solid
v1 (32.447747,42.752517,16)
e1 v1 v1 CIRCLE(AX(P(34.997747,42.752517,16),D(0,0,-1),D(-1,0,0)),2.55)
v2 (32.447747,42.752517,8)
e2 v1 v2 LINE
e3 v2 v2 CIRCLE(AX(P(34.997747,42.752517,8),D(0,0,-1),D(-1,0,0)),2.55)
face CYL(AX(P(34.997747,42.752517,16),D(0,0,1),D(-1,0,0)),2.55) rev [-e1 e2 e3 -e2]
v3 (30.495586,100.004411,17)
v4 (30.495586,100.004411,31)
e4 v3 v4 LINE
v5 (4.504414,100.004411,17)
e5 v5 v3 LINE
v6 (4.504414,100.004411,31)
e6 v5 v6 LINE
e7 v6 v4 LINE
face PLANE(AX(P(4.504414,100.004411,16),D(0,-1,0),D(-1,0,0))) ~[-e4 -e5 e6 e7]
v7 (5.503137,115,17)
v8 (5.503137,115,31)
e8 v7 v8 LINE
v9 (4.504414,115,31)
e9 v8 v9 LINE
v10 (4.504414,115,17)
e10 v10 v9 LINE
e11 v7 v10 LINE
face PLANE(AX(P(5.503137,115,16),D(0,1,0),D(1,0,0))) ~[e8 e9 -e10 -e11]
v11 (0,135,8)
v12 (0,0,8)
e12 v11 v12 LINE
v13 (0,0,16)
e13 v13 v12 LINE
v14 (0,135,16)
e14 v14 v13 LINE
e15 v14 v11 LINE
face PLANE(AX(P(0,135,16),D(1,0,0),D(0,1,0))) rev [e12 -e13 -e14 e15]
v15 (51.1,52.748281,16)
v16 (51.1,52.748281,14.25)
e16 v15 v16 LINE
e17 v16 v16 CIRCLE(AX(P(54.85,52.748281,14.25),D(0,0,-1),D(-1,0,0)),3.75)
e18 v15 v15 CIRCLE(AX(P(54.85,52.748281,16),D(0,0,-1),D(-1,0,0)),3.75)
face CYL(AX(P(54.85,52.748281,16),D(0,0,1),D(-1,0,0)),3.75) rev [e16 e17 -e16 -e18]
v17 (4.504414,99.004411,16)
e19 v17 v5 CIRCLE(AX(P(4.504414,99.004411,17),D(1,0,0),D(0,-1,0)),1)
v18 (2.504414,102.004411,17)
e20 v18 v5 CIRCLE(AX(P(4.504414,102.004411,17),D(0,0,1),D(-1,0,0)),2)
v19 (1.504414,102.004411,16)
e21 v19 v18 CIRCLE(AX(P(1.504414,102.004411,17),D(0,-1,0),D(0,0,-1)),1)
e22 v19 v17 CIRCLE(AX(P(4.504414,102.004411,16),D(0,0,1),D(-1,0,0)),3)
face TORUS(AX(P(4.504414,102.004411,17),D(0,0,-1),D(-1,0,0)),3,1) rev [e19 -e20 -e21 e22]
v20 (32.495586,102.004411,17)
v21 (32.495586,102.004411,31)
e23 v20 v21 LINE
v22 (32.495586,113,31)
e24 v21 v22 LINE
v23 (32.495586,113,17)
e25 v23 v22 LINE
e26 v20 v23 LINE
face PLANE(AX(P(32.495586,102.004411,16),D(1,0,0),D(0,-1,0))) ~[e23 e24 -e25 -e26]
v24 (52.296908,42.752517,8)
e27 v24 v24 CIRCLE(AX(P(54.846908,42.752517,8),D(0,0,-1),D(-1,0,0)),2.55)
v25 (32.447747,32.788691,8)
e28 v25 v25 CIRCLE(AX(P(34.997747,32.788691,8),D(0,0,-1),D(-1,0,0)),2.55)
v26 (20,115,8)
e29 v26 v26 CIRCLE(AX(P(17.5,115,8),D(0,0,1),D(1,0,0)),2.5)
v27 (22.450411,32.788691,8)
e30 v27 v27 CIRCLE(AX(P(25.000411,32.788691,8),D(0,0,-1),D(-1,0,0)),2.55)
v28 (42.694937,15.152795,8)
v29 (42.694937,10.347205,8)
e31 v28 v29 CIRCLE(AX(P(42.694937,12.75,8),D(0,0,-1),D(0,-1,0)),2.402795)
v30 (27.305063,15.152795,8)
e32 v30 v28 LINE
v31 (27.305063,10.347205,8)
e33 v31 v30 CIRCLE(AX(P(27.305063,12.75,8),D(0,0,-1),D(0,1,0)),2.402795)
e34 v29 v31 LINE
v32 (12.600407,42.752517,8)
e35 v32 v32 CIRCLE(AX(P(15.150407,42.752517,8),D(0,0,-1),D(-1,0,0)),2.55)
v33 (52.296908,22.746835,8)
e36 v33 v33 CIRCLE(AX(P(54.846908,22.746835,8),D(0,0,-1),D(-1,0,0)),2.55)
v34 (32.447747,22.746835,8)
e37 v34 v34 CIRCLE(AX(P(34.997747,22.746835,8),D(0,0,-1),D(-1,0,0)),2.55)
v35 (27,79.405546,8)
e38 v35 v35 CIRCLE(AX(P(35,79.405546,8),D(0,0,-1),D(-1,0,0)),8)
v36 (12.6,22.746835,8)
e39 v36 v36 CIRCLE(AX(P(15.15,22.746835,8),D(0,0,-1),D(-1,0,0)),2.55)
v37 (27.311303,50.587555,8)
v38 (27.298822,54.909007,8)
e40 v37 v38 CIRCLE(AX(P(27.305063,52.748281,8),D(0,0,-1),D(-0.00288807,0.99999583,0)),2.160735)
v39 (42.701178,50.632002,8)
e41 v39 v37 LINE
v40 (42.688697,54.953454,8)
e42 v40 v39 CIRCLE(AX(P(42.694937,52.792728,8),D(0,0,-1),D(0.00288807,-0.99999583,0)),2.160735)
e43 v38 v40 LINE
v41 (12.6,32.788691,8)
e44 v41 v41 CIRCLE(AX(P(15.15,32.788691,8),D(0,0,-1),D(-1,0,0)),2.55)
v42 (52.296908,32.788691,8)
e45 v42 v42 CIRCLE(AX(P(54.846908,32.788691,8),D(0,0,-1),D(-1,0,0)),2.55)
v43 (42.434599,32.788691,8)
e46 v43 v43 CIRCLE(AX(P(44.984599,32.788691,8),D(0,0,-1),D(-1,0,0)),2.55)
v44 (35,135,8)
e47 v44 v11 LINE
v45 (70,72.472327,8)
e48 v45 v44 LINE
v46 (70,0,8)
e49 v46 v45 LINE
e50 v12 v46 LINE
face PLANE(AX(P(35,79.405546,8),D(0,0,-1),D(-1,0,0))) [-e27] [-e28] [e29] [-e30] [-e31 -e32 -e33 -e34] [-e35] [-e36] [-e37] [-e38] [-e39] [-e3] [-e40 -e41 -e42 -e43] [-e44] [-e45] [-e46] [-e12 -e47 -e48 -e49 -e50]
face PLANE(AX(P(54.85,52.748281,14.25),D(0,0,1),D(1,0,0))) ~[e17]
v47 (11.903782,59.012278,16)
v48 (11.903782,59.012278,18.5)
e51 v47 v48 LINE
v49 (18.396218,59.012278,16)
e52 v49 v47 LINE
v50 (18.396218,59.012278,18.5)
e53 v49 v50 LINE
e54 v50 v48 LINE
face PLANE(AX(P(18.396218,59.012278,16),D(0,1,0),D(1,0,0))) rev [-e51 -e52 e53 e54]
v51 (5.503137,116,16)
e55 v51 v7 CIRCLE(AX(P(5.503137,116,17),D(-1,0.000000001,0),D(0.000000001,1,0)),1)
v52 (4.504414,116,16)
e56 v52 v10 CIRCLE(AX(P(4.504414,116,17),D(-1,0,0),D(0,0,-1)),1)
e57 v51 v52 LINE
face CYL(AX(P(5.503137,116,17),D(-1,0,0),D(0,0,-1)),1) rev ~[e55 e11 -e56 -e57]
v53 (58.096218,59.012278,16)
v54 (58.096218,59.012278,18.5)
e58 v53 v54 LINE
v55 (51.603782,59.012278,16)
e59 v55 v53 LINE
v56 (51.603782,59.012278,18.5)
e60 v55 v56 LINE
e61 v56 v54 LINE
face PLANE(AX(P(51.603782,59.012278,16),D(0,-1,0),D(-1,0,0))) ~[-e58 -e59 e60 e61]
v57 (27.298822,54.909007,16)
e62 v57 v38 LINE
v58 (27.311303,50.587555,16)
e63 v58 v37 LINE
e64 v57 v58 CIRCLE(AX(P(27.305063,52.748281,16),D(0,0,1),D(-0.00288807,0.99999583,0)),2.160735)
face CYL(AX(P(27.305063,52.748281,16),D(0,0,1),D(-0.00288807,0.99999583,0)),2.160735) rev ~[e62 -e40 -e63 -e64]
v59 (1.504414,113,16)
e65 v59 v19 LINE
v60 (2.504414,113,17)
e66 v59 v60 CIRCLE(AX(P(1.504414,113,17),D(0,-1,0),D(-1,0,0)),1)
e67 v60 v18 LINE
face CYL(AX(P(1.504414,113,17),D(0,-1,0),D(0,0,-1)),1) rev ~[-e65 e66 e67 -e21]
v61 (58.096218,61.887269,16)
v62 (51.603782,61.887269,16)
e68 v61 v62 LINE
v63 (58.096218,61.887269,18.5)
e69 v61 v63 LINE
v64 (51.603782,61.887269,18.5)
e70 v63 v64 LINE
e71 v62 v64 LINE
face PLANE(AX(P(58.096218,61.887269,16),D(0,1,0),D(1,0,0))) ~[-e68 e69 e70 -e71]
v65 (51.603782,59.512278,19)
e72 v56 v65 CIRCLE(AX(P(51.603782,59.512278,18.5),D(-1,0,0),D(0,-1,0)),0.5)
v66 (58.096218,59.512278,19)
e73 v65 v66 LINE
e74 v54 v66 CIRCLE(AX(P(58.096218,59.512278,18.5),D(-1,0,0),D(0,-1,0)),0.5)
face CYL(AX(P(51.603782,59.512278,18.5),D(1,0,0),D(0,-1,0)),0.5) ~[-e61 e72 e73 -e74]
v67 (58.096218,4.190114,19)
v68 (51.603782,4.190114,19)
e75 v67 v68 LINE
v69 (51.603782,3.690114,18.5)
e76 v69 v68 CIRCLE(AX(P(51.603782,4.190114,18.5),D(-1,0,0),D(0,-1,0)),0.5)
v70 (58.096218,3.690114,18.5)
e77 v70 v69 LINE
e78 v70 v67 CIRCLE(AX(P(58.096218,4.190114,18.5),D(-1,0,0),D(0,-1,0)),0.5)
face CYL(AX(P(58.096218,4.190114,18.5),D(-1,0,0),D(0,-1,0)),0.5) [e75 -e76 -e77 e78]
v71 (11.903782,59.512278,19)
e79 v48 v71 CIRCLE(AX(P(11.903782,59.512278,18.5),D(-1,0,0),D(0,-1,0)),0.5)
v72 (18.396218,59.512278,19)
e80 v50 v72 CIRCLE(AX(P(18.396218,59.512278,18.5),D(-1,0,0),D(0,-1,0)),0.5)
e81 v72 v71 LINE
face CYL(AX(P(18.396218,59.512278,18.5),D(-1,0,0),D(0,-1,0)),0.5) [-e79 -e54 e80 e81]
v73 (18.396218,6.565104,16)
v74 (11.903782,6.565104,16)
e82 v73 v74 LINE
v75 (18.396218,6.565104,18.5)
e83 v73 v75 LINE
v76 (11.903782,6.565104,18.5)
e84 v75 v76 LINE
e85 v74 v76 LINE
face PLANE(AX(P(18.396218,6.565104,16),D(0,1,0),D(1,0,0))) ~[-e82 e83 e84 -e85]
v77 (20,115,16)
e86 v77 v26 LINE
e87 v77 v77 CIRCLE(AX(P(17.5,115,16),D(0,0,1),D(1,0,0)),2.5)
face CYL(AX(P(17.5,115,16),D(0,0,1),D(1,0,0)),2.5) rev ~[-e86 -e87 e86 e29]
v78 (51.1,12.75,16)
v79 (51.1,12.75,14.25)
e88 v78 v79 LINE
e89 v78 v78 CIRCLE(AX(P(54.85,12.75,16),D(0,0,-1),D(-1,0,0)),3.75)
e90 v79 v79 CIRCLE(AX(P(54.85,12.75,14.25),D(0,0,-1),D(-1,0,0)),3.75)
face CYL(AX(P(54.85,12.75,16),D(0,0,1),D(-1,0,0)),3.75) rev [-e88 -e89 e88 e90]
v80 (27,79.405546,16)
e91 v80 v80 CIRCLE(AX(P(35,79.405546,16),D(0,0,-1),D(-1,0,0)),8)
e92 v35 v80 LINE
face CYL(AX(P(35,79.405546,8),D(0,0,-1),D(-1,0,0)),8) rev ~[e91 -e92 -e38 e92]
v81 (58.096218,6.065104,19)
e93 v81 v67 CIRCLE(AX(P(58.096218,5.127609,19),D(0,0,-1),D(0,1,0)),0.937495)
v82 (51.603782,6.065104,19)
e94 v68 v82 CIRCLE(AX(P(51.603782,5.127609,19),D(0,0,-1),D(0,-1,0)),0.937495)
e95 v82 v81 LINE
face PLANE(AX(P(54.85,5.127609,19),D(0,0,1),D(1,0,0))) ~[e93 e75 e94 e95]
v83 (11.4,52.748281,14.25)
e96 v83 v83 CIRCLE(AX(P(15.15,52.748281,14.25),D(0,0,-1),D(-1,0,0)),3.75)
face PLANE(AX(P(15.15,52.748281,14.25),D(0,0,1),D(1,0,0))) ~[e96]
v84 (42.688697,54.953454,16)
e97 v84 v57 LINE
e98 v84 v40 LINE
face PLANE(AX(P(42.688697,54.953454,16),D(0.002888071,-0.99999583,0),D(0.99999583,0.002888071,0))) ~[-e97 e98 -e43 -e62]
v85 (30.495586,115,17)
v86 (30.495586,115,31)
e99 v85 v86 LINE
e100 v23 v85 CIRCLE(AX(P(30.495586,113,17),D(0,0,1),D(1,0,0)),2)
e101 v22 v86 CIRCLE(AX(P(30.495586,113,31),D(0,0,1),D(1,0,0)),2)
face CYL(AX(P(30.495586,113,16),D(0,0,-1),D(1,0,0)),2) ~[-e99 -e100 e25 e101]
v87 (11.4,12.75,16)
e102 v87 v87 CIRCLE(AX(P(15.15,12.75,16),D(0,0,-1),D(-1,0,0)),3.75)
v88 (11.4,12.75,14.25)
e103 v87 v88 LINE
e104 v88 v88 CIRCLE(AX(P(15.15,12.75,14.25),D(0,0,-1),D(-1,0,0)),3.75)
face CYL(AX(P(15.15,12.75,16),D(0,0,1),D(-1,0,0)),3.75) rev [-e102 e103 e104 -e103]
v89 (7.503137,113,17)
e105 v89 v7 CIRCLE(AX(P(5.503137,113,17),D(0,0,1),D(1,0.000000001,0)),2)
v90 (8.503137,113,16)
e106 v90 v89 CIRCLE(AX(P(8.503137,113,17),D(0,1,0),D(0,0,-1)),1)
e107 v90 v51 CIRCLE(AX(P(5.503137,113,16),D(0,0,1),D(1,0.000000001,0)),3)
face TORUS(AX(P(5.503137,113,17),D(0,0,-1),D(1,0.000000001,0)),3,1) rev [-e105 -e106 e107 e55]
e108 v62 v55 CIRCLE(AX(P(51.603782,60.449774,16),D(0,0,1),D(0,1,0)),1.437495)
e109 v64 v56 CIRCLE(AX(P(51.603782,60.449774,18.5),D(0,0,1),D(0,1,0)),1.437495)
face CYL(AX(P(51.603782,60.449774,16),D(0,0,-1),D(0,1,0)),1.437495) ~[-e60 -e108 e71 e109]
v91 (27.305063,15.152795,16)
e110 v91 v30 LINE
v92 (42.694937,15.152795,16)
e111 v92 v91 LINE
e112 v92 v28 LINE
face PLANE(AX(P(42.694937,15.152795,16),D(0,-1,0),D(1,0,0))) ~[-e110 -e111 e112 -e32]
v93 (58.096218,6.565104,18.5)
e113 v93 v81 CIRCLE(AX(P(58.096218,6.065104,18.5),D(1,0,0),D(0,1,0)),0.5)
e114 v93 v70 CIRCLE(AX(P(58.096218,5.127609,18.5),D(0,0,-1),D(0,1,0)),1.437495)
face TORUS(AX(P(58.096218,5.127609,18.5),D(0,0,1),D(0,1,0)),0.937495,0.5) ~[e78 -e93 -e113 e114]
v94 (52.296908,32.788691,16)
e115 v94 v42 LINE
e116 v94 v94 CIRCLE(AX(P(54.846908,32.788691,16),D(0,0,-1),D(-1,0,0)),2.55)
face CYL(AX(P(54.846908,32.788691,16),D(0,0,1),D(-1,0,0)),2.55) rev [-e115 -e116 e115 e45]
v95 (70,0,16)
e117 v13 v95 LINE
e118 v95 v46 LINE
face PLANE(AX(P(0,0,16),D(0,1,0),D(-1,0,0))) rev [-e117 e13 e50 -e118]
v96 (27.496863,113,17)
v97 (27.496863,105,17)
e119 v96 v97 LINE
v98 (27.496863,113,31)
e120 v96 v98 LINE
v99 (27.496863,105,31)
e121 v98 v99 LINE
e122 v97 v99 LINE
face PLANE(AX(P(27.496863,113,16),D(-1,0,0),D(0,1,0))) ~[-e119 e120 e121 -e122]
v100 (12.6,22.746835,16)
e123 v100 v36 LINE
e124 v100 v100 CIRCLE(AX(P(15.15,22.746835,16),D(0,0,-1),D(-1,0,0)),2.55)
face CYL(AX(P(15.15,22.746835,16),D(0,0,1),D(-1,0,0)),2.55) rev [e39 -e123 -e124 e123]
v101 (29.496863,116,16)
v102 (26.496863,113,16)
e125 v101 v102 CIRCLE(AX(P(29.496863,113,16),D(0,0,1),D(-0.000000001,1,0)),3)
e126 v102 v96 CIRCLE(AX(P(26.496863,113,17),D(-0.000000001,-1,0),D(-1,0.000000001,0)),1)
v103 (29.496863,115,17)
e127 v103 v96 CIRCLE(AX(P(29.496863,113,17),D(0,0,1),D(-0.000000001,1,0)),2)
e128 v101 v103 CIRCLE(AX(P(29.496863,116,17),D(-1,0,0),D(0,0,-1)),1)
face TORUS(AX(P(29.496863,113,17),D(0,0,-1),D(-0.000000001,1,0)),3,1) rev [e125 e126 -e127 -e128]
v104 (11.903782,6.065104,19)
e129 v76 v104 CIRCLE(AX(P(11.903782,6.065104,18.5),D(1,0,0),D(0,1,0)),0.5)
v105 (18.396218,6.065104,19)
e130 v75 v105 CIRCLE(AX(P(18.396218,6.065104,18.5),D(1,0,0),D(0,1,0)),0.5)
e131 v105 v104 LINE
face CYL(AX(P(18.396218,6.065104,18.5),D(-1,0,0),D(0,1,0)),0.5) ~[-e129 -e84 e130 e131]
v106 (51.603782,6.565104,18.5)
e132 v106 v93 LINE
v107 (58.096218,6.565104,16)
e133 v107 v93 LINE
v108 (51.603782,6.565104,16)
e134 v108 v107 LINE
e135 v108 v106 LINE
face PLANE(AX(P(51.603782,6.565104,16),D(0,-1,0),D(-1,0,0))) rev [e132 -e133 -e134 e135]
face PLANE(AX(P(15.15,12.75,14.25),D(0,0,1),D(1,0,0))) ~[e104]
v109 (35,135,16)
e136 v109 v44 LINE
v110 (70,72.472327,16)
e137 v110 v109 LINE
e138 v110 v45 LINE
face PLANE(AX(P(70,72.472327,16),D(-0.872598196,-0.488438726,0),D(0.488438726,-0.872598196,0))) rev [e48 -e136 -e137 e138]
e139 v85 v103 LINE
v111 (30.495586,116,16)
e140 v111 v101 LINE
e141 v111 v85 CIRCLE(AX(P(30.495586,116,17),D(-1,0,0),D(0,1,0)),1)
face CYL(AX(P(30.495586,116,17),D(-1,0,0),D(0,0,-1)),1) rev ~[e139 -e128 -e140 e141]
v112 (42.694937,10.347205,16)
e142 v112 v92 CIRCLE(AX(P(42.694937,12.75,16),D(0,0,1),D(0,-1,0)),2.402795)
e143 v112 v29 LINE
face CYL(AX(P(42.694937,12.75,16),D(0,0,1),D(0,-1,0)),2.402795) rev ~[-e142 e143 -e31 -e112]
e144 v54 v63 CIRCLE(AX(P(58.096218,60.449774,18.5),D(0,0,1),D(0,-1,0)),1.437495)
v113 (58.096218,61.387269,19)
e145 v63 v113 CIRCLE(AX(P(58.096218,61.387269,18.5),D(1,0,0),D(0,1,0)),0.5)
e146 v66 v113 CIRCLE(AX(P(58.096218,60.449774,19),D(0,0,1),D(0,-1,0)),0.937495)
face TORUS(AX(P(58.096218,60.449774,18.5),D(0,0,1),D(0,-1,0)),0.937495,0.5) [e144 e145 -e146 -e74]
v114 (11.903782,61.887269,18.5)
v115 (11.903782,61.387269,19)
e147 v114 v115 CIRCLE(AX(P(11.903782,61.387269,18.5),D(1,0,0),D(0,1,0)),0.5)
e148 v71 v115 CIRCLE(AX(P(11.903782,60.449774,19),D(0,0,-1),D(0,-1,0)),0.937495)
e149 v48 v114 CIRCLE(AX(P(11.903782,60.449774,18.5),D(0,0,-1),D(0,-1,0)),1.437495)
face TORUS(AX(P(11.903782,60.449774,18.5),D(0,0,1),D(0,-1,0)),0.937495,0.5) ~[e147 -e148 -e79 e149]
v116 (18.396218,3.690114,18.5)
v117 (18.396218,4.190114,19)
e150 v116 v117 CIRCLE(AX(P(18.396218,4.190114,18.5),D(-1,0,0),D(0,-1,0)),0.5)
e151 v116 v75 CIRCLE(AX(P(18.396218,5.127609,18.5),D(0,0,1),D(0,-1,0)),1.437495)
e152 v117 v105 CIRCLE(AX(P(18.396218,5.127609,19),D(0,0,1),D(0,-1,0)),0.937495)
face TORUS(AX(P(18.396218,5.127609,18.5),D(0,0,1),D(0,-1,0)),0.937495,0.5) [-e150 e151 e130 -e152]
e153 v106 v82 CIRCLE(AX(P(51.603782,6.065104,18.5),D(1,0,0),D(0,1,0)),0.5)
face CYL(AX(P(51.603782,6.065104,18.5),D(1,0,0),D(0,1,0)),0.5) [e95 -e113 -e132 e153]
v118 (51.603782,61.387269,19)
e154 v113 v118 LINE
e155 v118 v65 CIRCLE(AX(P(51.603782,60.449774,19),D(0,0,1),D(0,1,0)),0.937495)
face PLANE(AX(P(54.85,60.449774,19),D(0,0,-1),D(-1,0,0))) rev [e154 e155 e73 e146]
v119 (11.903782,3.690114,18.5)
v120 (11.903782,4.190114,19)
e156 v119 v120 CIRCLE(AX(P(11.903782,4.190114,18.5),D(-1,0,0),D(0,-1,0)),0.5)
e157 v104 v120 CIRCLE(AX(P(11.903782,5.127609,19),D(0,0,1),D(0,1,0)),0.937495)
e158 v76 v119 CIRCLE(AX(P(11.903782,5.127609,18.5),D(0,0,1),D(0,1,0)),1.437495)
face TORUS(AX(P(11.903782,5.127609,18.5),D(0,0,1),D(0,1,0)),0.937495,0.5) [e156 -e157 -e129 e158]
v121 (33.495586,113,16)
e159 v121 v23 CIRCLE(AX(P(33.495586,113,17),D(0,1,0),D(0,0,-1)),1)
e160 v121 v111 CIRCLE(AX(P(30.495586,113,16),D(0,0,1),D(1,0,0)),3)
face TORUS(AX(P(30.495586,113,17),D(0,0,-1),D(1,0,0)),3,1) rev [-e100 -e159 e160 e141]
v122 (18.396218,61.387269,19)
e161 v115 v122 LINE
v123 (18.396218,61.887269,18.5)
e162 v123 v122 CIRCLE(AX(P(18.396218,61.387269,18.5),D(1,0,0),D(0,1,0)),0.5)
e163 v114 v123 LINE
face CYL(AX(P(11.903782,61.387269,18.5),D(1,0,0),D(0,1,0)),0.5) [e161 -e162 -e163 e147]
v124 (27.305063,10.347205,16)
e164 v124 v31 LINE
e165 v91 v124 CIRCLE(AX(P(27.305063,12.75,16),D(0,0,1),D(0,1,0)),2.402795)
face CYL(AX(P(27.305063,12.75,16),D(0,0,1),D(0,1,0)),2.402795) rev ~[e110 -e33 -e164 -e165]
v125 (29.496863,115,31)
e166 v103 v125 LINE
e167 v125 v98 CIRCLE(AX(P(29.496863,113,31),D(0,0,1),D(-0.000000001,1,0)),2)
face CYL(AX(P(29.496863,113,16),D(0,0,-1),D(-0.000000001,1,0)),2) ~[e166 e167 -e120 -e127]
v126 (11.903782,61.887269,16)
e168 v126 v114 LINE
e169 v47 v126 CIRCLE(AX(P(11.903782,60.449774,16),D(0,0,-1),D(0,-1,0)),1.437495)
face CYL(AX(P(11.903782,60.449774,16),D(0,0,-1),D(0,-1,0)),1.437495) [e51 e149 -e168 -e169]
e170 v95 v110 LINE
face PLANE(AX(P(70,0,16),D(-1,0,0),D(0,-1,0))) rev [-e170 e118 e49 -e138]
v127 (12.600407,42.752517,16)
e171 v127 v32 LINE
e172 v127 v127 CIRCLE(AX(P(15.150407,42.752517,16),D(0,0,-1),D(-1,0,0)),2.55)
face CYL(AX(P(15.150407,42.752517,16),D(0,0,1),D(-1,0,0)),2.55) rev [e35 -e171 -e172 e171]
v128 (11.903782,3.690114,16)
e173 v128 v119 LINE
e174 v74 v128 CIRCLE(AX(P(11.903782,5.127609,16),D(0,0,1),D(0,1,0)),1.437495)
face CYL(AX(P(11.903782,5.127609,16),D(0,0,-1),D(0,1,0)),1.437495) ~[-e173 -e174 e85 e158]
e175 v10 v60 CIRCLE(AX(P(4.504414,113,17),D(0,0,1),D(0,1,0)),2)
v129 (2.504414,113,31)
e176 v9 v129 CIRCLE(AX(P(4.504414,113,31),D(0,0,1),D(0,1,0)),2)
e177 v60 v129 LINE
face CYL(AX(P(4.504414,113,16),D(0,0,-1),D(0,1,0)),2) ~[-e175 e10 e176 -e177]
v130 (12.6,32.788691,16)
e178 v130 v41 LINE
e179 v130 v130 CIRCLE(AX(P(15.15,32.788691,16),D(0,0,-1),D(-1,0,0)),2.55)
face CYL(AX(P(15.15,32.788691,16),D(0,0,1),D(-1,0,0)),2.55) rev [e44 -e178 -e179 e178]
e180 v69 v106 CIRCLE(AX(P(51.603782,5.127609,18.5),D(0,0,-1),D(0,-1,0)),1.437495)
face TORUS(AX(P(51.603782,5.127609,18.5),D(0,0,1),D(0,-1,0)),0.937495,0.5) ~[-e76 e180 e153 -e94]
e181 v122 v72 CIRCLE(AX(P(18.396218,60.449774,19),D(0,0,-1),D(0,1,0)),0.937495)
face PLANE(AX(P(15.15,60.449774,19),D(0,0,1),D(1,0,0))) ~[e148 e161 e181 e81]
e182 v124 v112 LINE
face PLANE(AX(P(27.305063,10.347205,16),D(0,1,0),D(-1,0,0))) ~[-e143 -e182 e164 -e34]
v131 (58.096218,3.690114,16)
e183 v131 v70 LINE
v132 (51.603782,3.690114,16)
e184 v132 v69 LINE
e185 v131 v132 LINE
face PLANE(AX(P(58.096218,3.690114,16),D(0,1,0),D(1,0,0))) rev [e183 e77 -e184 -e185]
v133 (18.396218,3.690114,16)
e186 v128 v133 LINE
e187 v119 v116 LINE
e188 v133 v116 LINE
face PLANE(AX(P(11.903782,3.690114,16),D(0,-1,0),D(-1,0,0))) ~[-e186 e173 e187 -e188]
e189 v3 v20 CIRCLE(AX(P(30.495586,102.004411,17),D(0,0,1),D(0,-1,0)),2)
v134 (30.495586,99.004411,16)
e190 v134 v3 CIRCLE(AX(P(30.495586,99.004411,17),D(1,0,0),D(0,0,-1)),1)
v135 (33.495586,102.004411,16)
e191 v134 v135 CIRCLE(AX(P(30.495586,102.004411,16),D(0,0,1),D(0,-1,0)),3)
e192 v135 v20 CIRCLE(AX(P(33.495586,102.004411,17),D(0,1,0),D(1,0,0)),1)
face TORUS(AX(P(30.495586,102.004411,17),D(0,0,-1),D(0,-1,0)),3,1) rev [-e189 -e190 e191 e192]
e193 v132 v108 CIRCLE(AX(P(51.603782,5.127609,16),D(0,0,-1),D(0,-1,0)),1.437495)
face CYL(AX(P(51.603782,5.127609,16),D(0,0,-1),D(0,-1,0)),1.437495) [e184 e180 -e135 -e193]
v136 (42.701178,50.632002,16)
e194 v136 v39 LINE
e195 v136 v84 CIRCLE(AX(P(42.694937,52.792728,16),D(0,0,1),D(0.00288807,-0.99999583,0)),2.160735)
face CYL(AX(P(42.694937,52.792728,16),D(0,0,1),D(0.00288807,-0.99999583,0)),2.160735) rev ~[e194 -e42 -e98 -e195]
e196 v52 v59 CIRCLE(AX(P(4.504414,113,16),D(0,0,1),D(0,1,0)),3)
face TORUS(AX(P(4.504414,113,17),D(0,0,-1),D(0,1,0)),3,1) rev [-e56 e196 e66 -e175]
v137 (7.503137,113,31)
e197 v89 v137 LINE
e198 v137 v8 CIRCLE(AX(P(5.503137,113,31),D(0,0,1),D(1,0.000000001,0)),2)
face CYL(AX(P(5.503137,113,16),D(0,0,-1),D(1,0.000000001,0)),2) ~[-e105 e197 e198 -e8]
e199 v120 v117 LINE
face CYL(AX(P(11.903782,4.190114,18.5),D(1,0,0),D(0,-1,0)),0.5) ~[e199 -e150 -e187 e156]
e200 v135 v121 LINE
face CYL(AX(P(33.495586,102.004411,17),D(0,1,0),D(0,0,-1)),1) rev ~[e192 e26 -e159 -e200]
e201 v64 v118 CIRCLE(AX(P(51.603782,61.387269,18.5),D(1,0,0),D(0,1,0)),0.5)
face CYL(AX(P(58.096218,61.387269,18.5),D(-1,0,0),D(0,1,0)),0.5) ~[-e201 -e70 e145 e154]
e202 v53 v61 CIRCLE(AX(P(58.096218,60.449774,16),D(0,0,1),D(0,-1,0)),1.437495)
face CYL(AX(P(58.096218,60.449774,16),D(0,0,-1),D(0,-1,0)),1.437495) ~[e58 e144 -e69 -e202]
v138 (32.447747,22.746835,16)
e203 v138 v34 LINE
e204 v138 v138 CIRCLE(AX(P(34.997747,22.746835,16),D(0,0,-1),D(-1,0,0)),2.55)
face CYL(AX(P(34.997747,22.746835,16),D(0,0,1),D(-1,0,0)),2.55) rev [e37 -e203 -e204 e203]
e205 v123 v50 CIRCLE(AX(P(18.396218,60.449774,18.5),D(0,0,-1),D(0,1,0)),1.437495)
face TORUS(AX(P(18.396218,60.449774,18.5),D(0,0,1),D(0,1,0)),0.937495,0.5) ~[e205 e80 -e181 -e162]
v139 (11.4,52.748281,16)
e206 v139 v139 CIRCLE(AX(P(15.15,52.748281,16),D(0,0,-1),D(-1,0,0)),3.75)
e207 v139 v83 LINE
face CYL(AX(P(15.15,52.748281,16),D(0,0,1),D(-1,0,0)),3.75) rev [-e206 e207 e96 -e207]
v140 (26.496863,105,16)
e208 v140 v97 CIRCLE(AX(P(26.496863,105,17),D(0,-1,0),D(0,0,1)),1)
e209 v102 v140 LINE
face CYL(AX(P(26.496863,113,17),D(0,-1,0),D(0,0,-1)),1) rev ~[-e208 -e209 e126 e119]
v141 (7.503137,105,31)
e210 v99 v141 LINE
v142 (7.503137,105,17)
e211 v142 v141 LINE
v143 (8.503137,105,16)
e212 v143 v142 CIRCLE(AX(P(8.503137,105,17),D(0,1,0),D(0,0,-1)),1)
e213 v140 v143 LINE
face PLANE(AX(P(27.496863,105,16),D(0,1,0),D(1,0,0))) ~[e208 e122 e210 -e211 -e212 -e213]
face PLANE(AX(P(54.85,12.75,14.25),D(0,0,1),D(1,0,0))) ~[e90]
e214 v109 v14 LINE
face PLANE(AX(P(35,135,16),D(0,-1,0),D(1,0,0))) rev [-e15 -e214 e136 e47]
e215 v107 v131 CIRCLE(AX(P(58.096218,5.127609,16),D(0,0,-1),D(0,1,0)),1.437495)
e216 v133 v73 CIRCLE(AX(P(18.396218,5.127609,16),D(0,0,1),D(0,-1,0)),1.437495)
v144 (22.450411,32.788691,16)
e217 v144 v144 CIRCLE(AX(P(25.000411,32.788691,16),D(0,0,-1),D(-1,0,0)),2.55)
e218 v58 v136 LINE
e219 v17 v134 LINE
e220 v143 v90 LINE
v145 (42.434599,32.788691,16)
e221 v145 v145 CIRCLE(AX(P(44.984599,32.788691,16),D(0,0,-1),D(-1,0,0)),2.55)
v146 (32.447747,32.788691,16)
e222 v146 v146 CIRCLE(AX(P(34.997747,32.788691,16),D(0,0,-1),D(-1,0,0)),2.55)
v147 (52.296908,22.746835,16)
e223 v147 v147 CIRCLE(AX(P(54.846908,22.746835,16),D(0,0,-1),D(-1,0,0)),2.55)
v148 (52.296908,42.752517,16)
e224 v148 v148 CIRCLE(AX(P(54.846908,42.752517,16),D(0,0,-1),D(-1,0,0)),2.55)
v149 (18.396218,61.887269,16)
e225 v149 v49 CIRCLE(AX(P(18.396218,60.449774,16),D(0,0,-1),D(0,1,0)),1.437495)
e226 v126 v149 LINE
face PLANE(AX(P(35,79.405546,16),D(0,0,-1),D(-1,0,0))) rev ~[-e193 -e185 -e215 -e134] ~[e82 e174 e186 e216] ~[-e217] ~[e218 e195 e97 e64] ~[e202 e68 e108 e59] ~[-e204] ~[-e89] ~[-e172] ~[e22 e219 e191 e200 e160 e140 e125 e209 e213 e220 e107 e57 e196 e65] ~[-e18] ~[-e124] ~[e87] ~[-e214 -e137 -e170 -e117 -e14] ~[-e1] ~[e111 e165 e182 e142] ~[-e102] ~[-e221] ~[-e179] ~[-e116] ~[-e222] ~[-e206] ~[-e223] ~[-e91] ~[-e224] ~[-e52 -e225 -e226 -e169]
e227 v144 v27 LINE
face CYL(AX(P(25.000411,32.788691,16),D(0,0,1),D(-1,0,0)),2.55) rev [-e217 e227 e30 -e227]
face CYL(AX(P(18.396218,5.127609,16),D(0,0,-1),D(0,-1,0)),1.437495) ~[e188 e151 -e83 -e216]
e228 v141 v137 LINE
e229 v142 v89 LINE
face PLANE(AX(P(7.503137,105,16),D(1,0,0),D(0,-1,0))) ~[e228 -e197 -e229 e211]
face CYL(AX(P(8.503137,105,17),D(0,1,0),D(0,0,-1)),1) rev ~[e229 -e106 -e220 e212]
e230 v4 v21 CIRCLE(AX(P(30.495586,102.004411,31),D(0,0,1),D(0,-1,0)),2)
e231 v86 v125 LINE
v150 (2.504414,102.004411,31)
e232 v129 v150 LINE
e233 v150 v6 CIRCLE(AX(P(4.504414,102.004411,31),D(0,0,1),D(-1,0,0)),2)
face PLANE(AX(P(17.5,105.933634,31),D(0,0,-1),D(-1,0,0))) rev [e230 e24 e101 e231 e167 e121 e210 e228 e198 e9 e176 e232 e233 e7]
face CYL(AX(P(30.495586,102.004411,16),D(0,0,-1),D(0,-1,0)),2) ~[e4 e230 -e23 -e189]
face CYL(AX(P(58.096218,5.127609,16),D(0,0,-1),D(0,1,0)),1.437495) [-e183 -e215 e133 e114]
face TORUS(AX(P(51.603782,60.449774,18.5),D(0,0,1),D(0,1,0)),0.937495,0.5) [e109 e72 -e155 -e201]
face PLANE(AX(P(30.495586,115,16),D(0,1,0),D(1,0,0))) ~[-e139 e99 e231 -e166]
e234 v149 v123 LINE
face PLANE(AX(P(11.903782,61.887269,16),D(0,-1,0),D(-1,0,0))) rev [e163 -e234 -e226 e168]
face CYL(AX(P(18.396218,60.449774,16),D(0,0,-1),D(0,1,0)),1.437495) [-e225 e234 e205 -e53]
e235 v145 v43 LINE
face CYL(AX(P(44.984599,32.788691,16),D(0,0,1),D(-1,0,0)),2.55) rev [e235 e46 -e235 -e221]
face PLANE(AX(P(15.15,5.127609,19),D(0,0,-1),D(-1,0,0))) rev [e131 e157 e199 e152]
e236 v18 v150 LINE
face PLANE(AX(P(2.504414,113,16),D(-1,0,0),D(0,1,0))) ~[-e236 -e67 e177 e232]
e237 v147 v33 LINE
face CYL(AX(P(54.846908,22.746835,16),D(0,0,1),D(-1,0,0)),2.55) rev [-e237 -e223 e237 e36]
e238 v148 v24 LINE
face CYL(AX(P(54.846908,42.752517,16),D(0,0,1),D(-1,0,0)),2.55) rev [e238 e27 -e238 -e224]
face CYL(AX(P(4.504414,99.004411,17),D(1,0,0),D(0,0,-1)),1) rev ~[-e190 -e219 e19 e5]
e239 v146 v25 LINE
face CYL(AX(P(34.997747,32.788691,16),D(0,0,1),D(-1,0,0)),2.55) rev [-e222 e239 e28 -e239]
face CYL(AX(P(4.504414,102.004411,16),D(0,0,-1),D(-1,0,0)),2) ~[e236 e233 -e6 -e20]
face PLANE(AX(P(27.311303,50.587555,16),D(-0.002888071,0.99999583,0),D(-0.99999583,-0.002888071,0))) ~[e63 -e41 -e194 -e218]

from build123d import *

# Parameters (mm, degrees)
ESQUISSE1_R             = 2.5
BOSS_EXTRU_1_DEPTH      = 8
BOSS_EXTRU_3_DEPTH      = 15
CONG_1_R                = 1
ESQUISSE5_R             = 3.75
ENL_V_MAT_EXTRU_1_DEPTH = 1.75
ESQUISSE6_R             = 2.55
ENL_V_MAT_EXTRU_2_DEPTH = 153.807067899
ENL_V_MAT_EXTRU_3_DEPTH = 153.807067899
BOSS_EXTRU_4_DEPTH      = 3
CONG_2_R                = 0.5
ESQUISSE10_R            = 12
ENL_V_MAT_EXTRU_4_DEPTH = 153.807067899
ESQUISSE11_R            = 2.5
ENL_V_MAT_EXTRU_5_DEPTH = 153.807067899
ESQUISSE12_R            = 12
ESQUISSE12_R_2          = 8
ESQUISSE12_R_3          = 2.5
BOSS_EXTRU_5_DEPTH      = 8


with BuildPart() as part:
    # Esquisse1 → Boss.-Extru.1 (new body)
    with BuildSketch(Plane.XY):
        Polygon((0, 0), (70, 0), (70, 72.472327189), (35, 135), (0, 135), align=None)
        with Locations((17.5, 115)):
            Circle(ESQUISSE1_R, mode=Mode.SUBTRACT)
    extrude(amount=BOSS_EXTRU_1_DEPTH)

    # Esquisse4 → Boss.-Extru.3 (add)
    with BuildSketch(Plane(origin=(0, 0, 0), x_dir=(-1, 0, 0), z_dir=(0, 0, -1))):
        with BuildLine():
            Line((-27.49686293, 105), (-7.50313707, 105))
            Line((-7.50313707, 105), (-7.50313707, 113))
            ThreePointArc((-7.50313707, 113), (-6.917350632, 114.414213562), (-5.50313707, 115))
            Line((-5.50313707, 115), (-4.504414059, 115))
            ThreePointArc((-4.504414059, 115), (-3.090200496, 114.414213562), (-2.504414059, 113))
            Line((-2.504414059, 113), (-2.504414059, 102.004411464))
            ThreePointArc((-2.504414059, 102.004411464), (-3.090200496, 100.590197902), (-4.504414059, 100.004411464))
            Line((-4.504414059, 100.004411464), (-30.495585941, 100.004411464))
            ThreePointArc((-30.495585941, 100.004411464), (-31.909799504, 100.590197902), (-32.495585941, 102.004411464))
            Line((-32.495585941, 102.004411464), (-32.495585941, 113))
            ThreePointArc((-32.495585941, 113), (-31.909799504, 114.414213562), (-30.495585941, 115))
            Line((-30.495585941, 115), (-29.49686293, 115))
            ThreePointArc((-29.49686293, 115), (-28.082649368, 114.414213562), (-27.49686293, 113))
            Line((-27.49686293, 113), (-27.49686293, 105))
        make_face()
    extrude(amount=BOSS_EXTRU_3_DEPTH)

    # Congé1
    cong_1_edges = [part.edges().sort_by_distance(p)[0] for p in [
        (7.50313707, 109, 0),
        (27.49686293, 109, 0),
        (28.082649368, 114.414213562, 0),
        (29.996224436, 115, 0),
        (31.909799504, 114.414213562, 0),
        (32.495585941, 107.502205732, 0),
        (31.909799504, 100.590197902, 0),
        (17.5, 100.004411464, 0),
        (3.090200496, 100.590197902, 0),
        (2.504414059, 107.502205732, 0),
        (3.090200496, 114.414213562, 0),
        (5.003775564, 115, 0),
        (6.917350632, 114.414213562, 0),
    ]]
    fillet(cong_1_edges, radius=CONG_1_R)

    # Esquisse5 → Enlèv. mat.-Extru.1 (cut)
    with BuildSketch(Plane(origin=(0, 0, 0), x_dir=(-1, 0, 0), z_dir=(0, 0, -1))):
        with Locations((-54.85, 52.748281044)):
            Circle(ESQUISSE5_R)
        with Locations((-15.15, 52.748281044)):
            Circle(ESQUISSE5_R)
        with Locations((-54.85, 12.75)):
            Circle(ESQUISSE5_R)
        with Locations((-15.15, 12.75)):
            Circle(ESQUISSE5_R)
    extrude(amount=-ENL_V_MAT_EXTRU_1_DEPTH, mode=Mode.SUBTRACT)

    # Esquisse6 → Enlèv. mat.-Extru.2 (cut, through all)
    with BuildSketch(Plane(origin=(0, 0, 0), x_dir=(-1, 0, 0), z_dir=(0, 0, -1))):
        with Locations((-54.846908299, 42.752516513)):
            Circle(ESQUISSE6_R)
        with Locations((-34.997746817, 42.752516513)):
            Circle(ESQUISSE6_R)
        with Locations((-54.846908299, 32.788691402)):
            Circle(ESQUISSE6_R)
        with Locations((-44.984599054, 32.788691402)):
            Circle(ESQUISSE6_R)
        with Locations((-34.997746817, 32.788691402)):
            Circle(ESQUISSE6_R)
        with Locations((-25.000410905, 32.788691402)):
            Circle(ESQUISSE6_R)
        with Locations((-15.150407315, 42.752516513)):
            Circle(ESQUISSE6_R)
        with Locations((-15.15, 32.788691402)):
            Circle(ESQUISSE6_R)
        with Locations((-15.15, 22.746834884)):
            Circle(ESQUISSE6_R)
        with Locations((-34.997746817, 22.746834884)):
            Circle(ESQUISSE6_R)
        with Locations((-54.846908299, 22.746834884)):
            Circle(ESQUISSE6_R)
    extrude(amount=-ENL_V_MAT_EXTRU_2_DEPTH, mode=Mode.SUBTRACT)

    # Esquisse7 → Enlèv. mat.-Extru.3 (cut, through all)
    with BuildSketch(Plane(origin=(0, 0, 0), x_dir=(-1, 0, 0), z_dir=(0, 0, -1))):
        with BuildLine():
            Line((-42.688697109, 54.953454119), (-27.29882218, 54.909006883))
            ThreePointArc((-27.29882218, 54.909006883), (-25.144336695, 52.742040688), (-27.311302891, 50.587555204))
            Line((-27.311302891, 50.587555204), (-42.70117782, 50.63200244))
            ThreePointArc((-42.70117782, 50.63200244), (-44.855663305, 52.798968635), (-42.688697109, 54.953454119))
        make_face()
        with BuildLine():
            Line((-42.694937465, 15.15279537), (-27.305062535, 15.15279537))
            ThreePointArc((-27.305062535, 15.15279537), (-24.902267165, 12.75), (-27.305062535, 10.34720463))
            Line((-27.305062535, 10.34720463), (-42.694937465, 10.34720463))
            ThreePointArc((-42.694937465, 10.34720463), (-45.097732835, 12.75), (-42.694937465, 15.15279537))
        make_face()
    extrude(amount=-ENL_V_MAT_EXTRU_3_DEPTH, mode=Mode.SUBTRACT)

    # Esquisse8 → Boss.-Extru.4 (add)
    with BuildSketch(Plane(origin=(0, 0, 0), x_dir=(-1, 0, 0), z_dir=(0, 0, -1))):
        with BuildLine():
            Line((-58.096218294, 61.887268694), (-51.603781706, 61.887268694))
            ThreePointArc((-51.603781706, 61.887268694), (-50.166286551, 60.449773539), (-51.603781706, 59.012278383))
            Line((-51.603781706, 59.012278383), (-58.096218294, 59.012278383))
            ThreePointArc((-58.096218294, 59.012278383), (-59.533713449, 60.449773539), (-58.096218294, 61.887268694))
        make_face()
        with BuildLine():
            Line((-11.903781706, 61.887268694), (-18.396218294, 61.887268694))
            ThreePointArc((-18.396218294, 61.887268694), (-19.833713449, 60.449773539), (-18.396218294, 59.012278383))
            Line((-18.396218294, 59.012278383), (-11.903781706, 59.012278383))
            ThreePointArc((-11.903781706, 59.012278383), (-10.466286551, 60.449773539), (-11.903781706, 61.887268694))
        make_face()
        with BuildLine():
            Line((-58.096218294, 3.690114109), (-51.603781706, 3.690114109))
            ThreePointArc((-51.603781706, 3.690114109), (-50.166286551, 5.127609265), (-51.603781706, 6.56510442))
            Line((-51.603781706, 6.56510442), (-58.096218294, 6.56510442))
            ThreePointArc((-58.096218294, 6.56510442), (-59.533713449, 5.127609265), (-58.096218294, 3.690114109))
        make_face()
        with BuildLine():
            Line((-11.903781706, 3.690114109), (-18.396218294, 3.690114109))
            ThreePointArc((-18.396218294, 3.690114109), (-19.833713449, 5.127609265), (-18.396218294, 6.56510442))
            Line((-18.396218294, 6.56510442), (-11.903781706, 6.56510442))
            ThreePointArc((-11.903781706, 6.56510442), (-10.466286551, 5.127609265), (-11.903781706, 3.690114109))
        make_face()
    extrude(amount=BOSS_EXTRU_4_DEPTH)

    # Congé2
    cong_2_edges = [part.edges().sort_by_distance(p)[0] for p in [
        (59.533713449, 60.449773539, -3),
        (54.85, 59.012278383, -3),
        (50.166286551, 60.449773539, -3),
        (54.85, 61.887268694, -3),
        (10.466286551, 60.449773539, -3),
        (15.15, 61.887268694, -3),
        (19.833713449, 60.449773539, -3),
        (15.15, 59.012278383, -3),
        (59.533713449, 5.127609265, -3),
        (54.85, 3.690114109, -3),
        (50.166286551, 5.127609265, -3),
        (54.85, 6.56510442, -3),
        (10.466286551, 5.127609265, -3),
        (15.15, 6.56510442, -3),
        (19.833713449, 5.127609265, -3),
        (15.15, 3.690114109, -3),
    ]]
    fillet(cong_2_edges, radius=CONG_2_R)

    # Esquisse10 → Enlèv. mat.-Extru.4 (cut, through all)
    with BuildSketch(Plane(origin=(0, 0, 0), x_dir=(-1, 0, 0), z_dir=(0, 0, -1))):
        with Locations((-35, 79.405545715)):
            Circle(ESQUISSE10_R)
    extrude(amount=-ENL_V_MAT_EXTRU_4_DEPTH, mode=Mode.SUBTRACT)

    # Esquisse11 → Enlèv. mat.-Extru.5 (cut, through all)
    with BuildSketch(Plane(origin=(0, 0, 0), x_dir=(-1, 0, 0), z_dir=(0, 0, -1))):
        with Locations((-61, 71.814130875)):
            Circle(ESQUISSE11_R)
        with Locations((-9, 79.404327963)):
            Circle(ESQUISSE11_R)
        with Locations((-41, 105.405545715)):
            Circle(ESQUISSE11_R)
    extrude(amount=-ENL_V_MAT_EXTRU_5_DEPTH, mode=Mode.SUBTRACT)


with BuildPart() as body_2:
    # Symétrie1: mirrored copy
    add(part.part.mirror(Plane(origin=(0, 0, 8), x_dir=(1, 0, 0), z_dir=(0, 0, -1))))

    # Esquisse12 → Boss.-Extru.5 (add)
    # profile 1 of 4: a face of its own
    with BuildSketch(Plane(origin=(0, 0, 8), x_dir=(-1, 0, 0), z_dir=(0, 0, -1))):
        with Locations((-35, 79.405545715)):
            Circle(ESQUISSE12_R)
        with Locations((-35, 79.405545715)):
            Circle(ESQUISSE12_R_2, mode=Mode.SUBTRACT)
    # profile 2 of 4: a face of its own
    with BuildSketch(Plane(origin=(0, 0, 8), x_dir=(-1, 0, 0), z_dir=(0, 0, -1))):
        with Locations((-41, 105.405545715)):
            Circle(ESQUISSE12_R_3)
    # profile 3 of 4: a face of its own
    with BuildSketch(Plane(origin=(0, 0, 8), x_dir=(-1, 0, 0), z_dir=(0, 0, -1))):
        with Locations((-9, 79.404327963)):
            Circle(ESQUISSE12_R_3)
    # profile 4 of 4: a face of its own
    with BuildSketch(Plane(origin=(0, 0, 8), x_dir=(-1, 0, 0), z_dir=(0, 0, -1))):
        with Locations((-61, 71.814130875)):
            Circle(ESQUISSE12_R_3)
    extrude(amount=-BOSS_EXTRU_5_DEPTH)


solid = body_2.part
